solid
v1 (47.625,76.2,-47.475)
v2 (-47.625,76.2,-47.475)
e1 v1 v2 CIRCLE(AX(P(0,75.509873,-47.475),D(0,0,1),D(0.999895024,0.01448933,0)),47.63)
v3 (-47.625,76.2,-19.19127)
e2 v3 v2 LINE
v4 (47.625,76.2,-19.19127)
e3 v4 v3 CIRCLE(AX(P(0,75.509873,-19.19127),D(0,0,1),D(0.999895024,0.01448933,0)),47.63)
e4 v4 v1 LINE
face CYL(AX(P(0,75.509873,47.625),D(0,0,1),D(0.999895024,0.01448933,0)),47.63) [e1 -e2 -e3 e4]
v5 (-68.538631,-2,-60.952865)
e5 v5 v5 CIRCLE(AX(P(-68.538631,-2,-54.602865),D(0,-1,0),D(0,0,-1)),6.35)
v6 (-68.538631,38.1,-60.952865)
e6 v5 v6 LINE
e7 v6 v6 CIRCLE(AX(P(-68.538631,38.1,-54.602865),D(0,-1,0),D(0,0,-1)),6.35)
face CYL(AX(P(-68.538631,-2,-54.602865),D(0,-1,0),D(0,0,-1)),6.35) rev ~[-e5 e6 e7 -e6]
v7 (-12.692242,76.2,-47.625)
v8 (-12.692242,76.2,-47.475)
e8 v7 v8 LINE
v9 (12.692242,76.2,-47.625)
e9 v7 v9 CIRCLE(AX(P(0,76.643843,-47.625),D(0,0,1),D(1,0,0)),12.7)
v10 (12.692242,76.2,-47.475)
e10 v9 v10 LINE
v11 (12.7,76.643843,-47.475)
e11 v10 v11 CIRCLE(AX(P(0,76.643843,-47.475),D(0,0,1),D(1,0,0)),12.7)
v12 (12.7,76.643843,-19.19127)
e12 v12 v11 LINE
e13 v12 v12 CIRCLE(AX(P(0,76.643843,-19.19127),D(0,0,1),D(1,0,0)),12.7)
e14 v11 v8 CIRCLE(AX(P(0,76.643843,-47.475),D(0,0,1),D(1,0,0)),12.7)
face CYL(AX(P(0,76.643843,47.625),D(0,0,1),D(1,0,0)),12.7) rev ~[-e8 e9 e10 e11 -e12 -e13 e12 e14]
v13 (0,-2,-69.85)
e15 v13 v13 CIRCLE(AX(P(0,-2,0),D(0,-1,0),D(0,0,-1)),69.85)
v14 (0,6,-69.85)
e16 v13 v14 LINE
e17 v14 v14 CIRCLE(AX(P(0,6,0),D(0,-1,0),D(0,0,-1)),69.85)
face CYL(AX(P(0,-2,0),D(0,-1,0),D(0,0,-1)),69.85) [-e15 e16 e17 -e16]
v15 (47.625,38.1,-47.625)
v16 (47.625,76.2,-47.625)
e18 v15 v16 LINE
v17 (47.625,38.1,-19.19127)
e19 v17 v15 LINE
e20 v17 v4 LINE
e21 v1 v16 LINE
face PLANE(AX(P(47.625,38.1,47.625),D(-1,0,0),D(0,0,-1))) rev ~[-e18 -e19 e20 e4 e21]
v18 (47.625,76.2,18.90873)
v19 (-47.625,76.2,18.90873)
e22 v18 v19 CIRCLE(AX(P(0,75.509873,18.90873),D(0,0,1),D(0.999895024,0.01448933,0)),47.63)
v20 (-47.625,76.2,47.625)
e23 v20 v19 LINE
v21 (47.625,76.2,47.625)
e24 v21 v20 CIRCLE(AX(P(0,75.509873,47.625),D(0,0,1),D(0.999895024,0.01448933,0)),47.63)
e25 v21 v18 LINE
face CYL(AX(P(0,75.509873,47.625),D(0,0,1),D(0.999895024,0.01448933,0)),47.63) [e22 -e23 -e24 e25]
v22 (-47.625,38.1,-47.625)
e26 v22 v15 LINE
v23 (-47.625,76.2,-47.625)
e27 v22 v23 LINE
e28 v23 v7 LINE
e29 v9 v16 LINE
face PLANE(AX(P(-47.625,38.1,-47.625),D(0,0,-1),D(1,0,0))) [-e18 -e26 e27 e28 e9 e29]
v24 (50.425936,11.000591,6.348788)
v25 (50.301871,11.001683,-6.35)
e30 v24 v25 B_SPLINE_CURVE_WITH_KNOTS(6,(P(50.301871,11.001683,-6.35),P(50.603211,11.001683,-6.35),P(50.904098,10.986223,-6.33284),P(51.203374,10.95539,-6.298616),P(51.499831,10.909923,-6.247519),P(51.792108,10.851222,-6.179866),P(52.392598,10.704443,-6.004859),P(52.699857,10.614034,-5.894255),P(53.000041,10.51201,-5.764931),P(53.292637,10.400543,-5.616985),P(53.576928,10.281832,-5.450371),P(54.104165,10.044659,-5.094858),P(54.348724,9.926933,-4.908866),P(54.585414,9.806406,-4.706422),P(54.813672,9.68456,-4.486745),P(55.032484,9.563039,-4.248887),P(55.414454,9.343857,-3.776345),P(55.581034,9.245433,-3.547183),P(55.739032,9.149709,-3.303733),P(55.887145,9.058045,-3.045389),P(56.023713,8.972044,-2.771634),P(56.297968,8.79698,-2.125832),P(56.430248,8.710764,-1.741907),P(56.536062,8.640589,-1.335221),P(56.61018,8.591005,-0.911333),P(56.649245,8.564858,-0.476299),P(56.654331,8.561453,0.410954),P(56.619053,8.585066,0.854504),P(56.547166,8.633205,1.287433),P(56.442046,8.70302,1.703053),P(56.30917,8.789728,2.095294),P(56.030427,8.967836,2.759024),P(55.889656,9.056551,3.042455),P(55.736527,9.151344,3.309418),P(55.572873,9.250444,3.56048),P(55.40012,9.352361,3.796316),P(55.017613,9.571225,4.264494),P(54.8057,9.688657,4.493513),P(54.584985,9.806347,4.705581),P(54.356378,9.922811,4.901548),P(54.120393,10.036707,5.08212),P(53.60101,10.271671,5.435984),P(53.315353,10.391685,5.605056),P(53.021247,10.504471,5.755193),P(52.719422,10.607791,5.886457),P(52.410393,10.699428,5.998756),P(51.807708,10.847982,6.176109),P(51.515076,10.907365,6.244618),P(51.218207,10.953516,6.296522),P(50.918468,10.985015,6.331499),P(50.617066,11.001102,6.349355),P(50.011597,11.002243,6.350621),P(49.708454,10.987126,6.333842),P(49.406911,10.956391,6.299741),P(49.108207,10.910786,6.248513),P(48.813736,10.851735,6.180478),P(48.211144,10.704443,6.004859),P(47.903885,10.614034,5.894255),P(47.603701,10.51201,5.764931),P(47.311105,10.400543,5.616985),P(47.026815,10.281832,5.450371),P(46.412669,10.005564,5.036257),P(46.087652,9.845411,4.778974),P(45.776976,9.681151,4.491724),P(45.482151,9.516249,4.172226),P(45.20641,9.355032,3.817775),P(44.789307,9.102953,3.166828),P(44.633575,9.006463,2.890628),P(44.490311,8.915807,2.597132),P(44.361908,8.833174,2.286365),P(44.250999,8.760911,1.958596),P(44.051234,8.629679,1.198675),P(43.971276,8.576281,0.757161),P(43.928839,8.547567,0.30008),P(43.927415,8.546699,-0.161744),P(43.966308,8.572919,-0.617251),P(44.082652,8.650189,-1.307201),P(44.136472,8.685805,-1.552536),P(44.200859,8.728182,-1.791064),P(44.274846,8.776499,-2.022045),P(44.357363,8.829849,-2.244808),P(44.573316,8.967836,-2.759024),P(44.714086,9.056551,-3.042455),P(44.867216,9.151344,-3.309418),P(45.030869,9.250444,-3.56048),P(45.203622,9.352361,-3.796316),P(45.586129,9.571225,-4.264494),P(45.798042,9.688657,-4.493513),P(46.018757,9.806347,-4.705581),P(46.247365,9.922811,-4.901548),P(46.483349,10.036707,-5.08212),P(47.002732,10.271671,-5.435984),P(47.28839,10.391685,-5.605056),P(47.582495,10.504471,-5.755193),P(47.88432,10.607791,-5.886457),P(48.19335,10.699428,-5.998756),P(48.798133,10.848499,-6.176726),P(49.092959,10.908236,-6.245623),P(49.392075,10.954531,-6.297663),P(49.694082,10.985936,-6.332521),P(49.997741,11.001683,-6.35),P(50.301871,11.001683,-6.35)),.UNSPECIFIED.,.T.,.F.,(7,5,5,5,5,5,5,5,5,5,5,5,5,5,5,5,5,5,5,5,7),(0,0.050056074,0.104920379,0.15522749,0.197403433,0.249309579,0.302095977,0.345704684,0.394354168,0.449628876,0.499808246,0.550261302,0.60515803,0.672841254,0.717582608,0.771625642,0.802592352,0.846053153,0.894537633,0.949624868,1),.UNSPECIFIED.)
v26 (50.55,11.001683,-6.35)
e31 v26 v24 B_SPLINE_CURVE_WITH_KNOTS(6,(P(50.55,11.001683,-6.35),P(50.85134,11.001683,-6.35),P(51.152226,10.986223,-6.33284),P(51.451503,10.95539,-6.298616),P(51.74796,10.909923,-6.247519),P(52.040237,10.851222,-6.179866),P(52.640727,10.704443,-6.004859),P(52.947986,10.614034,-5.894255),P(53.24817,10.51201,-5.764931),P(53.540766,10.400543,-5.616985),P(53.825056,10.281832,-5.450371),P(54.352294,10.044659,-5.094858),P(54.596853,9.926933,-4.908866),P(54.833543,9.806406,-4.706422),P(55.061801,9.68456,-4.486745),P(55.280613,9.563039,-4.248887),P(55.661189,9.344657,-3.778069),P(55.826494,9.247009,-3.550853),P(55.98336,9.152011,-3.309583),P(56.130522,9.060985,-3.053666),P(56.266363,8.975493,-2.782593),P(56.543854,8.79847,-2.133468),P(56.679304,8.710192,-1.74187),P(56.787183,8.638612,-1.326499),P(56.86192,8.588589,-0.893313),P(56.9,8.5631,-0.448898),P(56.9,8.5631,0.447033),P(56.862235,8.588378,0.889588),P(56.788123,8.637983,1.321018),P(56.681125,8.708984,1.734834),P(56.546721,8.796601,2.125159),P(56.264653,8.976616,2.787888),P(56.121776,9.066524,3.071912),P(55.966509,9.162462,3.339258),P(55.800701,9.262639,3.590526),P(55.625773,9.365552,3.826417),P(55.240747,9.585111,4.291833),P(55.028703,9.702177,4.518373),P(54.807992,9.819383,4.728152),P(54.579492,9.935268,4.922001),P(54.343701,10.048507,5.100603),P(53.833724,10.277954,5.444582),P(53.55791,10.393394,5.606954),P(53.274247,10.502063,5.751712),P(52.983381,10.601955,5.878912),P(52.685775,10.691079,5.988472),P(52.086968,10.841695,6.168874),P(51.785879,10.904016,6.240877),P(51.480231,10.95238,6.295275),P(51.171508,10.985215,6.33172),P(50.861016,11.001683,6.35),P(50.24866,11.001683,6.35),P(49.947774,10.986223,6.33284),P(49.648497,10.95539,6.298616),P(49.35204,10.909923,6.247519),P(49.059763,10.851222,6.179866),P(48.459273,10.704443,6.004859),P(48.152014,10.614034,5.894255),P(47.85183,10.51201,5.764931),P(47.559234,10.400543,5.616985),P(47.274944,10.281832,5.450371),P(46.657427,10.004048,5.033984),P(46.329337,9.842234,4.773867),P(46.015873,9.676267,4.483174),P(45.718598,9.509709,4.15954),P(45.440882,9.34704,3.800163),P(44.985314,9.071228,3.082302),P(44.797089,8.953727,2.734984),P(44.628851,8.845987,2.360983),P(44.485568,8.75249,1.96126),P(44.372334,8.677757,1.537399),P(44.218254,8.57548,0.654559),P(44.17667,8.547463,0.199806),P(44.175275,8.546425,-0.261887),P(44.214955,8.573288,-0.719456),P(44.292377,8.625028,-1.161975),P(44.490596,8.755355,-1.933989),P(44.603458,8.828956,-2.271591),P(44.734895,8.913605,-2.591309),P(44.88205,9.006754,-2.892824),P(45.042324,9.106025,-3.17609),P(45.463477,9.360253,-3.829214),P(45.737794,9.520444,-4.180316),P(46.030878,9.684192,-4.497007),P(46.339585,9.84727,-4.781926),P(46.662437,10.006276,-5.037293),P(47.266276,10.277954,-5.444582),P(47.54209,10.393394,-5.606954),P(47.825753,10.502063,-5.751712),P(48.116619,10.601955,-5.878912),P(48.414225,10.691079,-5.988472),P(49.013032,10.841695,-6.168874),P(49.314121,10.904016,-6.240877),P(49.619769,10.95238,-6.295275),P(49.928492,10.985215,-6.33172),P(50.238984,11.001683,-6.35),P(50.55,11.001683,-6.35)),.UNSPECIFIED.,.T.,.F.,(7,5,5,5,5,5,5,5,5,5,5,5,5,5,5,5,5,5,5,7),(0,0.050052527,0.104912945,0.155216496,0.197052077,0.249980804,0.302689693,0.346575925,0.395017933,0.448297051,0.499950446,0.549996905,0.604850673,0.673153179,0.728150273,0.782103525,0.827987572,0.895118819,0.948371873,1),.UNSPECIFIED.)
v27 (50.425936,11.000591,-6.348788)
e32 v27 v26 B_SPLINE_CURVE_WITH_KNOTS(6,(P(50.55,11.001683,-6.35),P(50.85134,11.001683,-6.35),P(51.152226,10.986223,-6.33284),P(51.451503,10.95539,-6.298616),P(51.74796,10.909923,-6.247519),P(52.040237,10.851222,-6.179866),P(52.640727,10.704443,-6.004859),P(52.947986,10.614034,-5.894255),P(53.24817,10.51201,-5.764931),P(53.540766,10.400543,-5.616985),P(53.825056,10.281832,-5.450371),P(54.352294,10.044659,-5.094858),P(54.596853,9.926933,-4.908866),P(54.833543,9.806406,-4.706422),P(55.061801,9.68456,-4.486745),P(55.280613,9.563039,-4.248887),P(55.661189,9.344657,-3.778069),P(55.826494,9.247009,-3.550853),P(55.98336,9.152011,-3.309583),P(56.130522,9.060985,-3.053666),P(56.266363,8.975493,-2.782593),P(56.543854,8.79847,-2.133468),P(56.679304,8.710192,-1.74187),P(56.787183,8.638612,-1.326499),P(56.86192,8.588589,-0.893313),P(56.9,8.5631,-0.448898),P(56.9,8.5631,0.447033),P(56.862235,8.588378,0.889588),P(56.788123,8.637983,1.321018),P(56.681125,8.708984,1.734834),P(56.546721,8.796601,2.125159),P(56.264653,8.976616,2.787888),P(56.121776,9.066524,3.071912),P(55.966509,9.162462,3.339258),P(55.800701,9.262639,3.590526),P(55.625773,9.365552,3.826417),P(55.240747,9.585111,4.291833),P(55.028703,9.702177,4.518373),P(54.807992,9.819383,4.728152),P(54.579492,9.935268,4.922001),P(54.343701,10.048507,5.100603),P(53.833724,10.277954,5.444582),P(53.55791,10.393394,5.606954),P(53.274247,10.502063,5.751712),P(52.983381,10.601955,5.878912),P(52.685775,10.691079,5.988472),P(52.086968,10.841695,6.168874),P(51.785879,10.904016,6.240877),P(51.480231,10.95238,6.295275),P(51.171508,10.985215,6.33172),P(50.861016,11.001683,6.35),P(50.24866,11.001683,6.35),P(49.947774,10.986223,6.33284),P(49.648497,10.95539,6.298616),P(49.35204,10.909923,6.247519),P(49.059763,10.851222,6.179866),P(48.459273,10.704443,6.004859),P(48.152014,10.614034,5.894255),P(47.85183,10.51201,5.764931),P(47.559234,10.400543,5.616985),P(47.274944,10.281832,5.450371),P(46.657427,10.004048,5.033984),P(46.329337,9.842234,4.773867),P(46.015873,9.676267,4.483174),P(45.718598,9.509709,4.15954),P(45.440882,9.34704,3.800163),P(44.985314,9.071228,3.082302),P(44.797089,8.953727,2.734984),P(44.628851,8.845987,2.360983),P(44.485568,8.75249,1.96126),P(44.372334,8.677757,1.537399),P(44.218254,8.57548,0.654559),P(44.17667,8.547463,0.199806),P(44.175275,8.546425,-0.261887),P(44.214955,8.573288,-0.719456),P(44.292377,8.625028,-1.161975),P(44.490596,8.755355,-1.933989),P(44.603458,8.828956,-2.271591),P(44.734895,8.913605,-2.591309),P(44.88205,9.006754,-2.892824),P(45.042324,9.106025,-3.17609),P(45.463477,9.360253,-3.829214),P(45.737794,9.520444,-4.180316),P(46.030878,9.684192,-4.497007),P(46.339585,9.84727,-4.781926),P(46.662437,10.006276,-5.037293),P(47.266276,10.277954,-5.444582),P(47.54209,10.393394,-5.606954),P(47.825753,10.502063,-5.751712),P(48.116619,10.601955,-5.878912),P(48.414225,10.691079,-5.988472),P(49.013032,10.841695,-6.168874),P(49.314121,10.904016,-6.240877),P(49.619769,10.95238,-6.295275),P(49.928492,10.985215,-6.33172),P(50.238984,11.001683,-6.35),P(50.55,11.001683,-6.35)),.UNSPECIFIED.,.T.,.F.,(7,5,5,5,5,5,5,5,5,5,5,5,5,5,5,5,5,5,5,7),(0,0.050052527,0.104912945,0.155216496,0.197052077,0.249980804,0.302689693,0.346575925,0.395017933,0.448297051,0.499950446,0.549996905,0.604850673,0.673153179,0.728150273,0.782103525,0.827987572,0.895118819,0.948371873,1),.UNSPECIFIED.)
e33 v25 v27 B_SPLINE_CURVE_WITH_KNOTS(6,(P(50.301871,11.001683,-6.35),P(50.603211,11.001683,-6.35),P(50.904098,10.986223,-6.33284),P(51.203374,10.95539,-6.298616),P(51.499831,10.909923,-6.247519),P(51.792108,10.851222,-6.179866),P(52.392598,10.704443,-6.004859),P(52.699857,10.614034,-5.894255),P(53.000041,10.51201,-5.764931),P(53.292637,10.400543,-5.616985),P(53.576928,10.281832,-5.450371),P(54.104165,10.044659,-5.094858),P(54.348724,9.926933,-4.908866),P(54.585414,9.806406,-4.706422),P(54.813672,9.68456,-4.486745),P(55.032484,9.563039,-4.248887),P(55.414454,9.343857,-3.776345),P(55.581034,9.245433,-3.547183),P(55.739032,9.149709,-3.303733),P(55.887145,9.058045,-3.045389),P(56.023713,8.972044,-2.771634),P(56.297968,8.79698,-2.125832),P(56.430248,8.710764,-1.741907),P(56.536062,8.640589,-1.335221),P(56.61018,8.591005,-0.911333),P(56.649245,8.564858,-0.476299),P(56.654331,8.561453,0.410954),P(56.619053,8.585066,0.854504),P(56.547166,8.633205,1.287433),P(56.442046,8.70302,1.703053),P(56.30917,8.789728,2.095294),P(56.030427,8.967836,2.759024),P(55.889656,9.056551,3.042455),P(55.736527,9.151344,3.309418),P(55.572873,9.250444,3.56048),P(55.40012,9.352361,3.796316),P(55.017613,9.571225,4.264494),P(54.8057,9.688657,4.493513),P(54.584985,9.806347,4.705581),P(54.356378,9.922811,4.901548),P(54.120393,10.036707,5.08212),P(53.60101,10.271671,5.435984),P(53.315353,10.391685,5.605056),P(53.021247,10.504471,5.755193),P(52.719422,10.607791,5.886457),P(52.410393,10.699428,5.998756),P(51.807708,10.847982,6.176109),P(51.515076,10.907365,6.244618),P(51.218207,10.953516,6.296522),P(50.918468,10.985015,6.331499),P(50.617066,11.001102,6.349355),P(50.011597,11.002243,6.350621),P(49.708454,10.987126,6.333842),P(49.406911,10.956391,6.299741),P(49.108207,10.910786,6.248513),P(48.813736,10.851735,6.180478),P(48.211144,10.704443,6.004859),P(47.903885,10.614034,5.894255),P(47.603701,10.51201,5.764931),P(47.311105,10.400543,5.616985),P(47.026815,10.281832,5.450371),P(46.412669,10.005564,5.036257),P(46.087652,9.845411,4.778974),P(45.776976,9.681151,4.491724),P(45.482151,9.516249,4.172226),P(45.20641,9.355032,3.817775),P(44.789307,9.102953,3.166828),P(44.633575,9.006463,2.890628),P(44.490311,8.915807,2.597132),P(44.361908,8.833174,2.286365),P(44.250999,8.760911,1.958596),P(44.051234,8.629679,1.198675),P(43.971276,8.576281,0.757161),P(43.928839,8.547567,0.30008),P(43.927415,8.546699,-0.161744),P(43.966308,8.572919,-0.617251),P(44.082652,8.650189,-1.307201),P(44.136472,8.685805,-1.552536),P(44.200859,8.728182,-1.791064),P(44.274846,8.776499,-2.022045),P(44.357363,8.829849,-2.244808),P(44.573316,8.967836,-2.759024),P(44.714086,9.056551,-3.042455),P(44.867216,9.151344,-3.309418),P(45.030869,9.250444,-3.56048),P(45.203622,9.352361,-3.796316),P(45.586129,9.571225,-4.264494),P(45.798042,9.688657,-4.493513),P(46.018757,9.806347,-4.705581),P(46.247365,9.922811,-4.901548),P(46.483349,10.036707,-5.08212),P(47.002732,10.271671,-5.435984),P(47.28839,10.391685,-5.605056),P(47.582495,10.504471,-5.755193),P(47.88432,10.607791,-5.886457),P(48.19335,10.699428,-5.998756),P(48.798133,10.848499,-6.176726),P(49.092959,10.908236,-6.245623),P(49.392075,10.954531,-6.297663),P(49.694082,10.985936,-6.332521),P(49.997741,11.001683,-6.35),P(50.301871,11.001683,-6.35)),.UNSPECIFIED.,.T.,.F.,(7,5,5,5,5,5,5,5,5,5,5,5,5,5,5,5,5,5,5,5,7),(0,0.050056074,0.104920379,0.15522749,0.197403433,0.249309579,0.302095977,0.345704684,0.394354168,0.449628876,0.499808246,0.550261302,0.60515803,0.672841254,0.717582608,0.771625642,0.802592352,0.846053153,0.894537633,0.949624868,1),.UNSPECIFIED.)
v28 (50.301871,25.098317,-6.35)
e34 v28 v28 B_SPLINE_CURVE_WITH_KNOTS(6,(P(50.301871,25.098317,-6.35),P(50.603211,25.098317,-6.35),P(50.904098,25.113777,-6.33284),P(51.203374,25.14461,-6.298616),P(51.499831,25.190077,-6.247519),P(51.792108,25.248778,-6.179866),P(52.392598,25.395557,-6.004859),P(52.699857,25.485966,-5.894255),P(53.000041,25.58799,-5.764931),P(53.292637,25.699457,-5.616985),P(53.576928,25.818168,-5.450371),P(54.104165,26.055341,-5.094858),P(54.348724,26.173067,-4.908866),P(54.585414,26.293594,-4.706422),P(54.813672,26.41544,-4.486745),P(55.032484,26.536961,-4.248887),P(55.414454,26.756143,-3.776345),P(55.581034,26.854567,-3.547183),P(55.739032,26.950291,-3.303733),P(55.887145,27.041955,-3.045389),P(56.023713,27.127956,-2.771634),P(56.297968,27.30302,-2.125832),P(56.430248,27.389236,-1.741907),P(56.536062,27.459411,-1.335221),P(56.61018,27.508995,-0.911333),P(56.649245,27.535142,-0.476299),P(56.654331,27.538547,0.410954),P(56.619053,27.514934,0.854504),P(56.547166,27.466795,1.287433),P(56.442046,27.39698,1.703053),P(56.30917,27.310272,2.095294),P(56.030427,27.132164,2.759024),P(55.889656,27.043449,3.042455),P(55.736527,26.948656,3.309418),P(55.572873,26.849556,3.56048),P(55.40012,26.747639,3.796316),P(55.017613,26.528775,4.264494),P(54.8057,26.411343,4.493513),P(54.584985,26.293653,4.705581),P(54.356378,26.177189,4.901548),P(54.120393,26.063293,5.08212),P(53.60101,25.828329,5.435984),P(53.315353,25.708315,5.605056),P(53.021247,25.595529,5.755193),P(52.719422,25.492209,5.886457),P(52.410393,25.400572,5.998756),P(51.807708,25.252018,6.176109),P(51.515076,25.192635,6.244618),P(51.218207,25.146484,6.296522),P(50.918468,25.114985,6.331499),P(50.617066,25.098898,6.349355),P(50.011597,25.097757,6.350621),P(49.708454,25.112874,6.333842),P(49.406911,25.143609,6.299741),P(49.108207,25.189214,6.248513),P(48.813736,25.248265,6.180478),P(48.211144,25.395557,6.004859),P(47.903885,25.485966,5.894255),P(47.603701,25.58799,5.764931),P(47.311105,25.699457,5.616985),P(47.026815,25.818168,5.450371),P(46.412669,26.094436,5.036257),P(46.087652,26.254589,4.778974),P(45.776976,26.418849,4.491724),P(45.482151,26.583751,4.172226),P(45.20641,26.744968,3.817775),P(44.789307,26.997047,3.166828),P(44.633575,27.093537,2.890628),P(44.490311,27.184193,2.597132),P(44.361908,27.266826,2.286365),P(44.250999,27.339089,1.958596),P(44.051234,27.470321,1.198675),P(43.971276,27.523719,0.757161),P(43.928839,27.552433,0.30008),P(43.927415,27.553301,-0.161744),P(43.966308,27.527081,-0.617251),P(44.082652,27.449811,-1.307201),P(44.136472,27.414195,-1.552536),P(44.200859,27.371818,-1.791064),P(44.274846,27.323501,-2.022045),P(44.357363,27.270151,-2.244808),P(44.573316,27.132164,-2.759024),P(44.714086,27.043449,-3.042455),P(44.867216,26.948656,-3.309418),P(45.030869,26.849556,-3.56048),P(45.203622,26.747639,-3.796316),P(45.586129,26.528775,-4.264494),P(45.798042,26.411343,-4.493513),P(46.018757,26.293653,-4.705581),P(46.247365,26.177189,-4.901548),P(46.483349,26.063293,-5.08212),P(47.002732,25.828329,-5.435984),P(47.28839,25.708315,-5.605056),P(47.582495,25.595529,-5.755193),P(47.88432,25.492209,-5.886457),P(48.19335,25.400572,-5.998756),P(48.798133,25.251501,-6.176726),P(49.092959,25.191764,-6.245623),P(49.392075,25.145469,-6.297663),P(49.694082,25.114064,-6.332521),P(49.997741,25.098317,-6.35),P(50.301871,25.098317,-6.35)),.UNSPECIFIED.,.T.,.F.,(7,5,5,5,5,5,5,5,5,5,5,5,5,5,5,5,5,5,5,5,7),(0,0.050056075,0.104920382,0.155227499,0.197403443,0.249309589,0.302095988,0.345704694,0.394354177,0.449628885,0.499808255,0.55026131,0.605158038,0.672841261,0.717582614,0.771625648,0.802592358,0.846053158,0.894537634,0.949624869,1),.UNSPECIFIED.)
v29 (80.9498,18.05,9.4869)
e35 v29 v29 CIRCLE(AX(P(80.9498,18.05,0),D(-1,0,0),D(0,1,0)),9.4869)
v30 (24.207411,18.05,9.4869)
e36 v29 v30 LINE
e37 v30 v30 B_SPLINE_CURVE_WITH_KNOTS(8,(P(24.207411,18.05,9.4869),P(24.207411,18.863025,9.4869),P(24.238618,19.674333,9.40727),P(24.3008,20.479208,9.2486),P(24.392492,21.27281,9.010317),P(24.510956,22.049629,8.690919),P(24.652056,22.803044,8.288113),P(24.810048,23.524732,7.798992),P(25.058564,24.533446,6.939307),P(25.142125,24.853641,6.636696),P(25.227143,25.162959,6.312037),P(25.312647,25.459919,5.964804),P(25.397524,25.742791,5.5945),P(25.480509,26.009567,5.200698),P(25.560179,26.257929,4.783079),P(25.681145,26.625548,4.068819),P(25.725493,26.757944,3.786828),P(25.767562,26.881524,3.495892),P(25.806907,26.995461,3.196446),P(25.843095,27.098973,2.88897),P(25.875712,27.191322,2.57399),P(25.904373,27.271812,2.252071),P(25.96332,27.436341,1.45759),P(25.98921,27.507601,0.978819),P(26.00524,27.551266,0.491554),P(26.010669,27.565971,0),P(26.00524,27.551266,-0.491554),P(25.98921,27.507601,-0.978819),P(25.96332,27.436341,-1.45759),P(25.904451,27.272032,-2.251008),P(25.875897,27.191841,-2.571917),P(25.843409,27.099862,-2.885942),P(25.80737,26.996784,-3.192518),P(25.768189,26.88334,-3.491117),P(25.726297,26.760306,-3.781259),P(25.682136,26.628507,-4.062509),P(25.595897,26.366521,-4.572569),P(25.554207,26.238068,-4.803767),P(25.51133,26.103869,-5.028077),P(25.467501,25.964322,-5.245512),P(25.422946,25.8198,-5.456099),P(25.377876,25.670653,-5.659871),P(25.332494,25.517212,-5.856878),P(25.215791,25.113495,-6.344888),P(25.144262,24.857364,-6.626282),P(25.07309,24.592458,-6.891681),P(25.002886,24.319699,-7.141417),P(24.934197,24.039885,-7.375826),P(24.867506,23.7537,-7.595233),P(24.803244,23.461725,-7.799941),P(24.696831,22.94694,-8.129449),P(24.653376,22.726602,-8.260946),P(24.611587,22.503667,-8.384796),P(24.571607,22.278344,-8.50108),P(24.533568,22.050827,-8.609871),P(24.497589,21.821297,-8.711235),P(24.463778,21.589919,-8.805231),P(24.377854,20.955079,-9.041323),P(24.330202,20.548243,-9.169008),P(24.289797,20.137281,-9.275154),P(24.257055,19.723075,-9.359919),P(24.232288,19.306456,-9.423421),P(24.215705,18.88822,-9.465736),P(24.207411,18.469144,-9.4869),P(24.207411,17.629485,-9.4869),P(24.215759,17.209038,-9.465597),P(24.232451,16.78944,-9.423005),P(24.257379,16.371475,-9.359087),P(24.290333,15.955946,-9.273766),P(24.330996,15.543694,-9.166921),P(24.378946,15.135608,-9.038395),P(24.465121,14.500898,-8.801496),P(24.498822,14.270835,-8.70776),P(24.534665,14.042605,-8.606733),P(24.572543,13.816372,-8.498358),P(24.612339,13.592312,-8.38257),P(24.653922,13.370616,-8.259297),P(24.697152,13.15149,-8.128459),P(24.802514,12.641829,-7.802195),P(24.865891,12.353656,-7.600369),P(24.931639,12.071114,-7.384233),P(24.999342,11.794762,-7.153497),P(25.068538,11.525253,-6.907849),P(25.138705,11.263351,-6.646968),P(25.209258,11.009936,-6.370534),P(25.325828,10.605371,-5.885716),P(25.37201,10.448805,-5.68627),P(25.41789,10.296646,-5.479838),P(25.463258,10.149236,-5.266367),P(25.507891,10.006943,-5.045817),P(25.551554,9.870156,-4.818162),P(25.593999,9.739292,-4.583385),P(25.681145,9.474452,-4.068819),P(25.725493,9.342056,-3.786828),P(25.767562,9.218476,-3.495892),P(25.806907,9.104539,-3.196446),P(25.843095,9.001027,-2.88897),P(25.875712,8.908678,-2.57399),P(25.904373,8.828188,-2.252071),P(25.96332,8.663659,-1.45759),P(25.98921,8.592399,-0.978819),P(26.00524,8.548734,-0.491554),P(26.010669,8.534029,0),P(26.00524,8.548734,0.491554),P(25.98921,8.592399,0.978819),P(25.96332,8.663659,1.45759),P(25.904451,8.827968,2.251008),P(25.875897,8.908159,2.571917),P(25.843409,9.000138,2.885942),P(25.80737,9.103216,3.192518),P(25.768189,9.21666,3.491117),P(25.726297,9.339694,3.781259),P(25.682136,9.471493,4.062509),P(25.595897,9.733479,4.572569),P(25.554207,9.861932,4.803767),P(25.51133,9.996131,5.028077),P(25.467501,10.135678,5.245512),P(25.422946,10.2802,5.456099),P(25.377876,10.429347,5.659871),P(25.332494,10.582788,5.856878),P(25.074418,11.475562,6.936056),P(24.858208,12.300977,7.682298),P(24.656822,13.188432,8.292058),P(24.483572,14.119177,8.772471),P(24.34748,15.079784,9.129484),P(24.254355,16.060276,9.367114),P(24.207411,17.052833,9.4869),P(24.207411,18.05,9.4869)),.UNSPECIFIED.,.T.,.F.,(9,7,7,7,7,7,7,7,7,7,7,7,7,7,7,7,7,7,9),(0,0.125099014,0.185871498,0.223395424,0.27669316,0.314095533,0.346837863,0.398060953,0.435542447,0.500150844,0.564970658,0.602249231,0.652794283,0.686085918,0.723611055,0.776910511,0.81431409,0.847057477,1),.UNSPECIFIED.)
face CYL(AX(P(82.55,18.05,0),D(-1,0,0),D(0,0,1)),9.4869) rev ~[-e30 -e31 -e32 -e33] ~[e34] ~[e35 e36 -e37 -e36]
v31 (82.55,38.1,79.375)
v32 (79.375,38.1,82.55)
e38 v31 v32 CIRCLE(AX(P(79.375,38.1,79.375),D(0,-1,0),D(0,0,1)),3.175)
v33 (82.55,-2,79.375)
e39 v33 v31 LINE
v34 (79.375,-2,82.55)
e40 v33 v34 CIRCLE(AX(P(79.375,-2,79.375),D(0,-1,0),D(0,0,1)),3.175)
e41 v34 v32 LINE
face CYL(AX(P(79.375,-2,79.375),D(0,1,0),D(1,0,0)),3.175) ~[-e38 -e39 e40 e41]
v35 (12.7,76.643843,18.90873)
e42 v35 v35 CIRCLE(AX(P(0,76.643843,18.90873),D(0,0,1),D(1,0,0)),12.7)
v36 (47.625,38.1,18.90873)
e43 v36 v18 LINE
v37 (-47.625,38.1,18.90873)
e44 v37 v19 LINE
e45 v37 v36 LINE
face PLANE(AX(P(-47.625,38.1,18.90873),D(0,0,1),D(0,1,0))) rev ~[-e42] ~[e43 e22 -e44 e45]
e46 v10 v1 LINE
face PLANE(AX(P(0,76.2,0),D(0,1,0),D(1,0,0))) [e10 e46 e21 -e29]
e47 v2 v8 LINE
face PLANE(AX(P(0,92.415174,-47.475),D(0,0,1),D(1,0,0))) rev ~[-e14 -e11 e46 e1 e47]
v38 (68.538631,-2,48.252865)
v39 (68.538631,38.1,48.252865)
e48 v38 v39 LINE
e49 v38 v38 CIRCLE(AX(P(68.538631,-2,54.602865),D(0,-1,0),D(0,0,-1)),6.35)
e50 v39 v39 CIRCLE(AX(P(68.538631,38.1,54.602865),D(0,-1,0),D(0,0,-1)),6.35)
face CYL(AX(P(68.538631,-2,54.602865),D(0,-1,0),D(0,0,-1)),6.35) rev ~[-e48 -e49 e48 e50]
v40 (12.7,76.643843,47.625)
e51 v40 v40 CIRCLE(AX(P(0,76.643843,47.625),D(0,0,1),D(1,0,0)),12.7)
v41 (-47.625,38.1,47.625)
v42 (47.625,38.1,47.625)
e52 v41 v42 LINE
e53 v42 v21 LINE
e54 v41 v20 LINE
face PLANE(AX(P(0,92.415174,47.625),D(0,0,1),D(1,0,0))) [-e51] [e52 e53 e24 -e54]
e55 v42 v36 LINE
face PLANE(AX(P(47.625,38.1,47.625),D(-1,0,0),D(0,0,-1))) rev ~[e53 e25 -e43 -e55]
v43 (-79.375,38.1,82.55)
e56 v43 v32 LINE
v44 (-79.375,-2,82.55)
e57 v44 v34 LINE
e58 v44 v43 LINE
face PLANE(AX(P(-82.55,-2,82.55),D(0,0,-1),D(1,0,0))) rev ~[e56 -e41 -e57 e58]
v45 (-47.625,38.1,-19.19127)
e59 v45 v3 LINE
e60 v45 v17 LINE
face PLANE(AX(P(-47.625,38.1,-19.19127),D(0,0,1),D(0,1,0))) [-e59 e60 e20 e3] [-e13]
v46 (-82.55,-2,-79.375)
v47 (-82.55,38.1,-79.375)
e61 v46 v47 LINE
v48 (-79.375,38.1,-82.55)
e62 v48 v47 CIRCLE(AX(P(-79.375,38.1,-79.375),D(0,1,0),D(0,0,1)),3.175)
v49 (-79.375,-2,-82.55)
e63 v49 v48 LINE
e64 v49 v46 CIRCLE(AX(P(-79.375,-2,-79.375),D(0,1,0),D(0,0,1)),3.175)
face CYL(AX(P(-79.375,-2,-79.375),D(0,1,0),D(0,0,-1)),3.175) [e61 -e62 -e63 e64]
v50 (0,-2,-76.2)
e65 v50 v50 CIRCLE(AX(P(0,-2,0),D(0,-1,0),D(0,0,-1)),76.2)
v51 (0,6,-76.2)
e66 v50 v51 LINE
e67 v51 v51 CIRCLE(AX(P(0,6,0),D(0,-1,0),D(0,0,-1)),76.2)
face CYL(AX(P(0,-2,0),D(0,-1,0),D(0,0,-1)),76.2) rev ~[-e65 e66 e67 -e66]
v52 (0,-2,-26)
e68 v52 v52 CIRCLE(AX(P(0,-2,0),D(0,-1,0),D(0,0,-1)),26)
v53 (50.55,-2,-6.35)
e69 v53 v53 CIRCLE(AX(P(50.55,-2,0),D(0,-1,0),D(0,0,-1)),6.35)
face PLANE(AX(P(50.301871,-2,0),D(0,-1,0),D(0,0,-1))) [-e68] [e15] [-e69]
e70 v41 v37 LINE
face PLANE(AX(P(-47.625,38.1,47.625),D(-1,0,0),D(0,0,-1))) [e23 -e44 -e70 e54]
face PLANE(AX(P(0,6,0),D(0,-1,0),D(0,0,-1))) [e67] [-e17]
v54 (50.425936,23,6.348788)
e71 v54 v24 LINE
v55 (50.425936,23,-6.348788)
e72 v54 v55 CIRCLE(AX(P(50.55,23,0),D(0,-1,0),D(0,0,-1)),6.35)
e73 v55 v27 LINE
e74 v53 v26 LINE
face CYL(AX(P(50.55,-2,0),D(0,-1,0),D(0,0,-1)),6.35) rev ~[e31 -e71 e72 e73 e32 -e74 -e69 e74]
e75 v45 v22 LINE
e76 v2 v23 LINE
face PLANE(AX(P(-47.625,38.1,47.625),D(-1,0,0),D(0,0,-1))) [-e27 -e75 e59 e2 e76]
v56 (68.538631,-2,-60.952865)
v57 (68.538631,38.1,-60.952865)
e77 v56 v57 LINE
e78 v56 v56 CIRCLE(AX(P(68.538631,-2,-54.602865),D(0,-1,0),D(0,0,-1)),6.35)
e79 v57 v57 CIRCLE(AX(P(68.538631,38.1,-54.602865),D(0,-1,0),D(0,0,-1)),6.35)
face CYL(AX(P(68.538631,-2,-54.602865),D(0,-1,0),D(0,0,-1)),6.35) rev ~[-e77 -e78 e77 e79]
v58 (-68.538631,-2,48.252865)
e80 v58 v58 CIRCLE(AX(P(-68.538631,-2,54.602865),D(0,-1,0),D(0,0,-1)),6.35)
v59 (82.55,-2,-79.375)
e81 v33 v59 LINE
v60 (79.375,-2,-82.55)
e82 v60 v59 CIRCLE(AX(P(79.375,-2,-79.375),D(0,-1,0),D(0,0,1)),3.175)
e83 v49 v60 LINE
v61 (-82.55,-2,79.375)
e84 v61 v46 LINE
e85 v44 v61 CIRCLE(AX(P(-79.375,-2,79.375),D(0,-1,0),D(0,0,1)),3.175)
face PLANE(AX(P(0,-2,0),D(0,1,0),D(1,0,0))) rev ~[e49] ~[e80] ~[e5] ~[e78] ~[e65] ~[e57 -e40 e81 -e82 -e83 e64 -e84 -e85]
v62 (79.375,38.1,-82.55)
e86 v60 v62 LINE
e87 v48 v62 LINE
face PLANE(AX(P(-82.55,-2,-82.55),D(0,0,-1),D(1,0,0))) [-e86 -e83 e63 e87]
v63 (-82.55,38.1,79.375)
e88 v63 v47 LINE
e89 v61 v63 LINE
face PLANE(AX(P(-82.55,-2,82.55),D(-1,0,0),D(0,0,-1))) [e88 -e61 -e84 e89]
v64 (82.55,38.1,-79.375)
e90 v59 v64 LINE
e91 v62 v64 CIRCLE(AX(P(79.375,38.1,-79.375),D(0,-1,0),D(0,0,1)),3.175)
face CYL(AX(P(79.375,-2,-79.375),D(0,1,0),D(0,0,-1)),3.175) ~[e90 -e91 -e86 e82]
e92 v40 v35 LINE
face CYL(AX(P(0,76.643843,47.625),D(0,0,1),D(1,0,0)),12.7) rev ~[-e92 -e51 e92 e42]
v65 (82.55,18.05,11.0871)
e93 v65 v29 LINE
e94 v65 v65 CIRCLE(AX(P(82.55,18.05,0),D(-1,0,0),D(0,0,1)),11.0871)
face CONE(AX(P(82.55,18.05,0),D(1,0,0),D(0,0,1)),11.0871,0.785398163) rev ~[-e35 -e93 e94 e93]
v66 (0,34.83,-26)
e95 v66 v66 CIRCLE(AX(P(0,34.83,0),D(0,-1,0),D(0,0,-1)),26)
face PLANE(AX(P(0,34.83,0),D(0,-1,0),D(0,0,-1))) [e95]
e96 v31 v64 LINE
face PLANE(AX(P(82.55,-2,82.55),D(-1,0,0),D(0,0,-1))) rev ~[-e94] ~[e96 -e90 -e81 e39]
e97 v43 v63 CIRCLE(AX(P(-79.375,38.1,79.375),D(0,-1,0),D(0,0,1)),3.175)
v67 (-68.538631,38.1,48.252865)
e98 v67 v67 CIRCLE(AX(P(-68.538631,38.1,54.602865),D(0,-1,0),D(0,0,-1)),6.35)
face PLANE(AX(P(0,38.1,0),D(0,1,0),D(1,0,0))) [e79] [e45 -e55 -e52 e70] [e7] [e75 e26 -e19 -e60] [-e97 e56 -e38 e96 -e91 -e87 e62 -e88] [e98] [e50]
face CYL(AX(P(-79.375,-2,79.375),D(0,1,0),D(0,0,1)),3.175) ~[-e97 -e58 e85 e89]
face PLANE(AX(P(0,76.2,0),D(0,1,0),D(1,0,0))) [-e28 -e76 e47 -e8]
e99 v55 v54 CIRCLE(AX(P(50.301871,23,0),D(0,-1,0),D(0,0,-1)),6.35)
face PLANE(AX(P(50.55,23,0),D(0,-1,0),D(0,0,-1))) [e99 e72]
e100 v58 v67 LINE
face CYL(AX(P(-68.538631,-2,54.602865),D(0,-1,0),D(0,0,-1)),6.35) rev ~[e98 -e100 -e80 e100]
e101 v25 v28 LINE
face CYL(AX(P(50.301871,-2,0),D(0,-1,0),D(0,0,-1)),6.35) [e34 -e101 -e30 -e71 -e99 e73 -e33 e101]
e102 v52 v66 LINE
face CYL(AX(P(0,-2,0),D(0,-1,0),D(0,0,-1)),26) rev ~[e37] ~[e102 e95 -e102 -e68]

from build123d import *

# Parameters (mm, degrees)
BOSS_EXTRUDE1_DEPTH                    = 38.1
BOSS_EXTRUDE1_DEPTH_BACK               = 2
SKETCH1_W                              = 165.1
SKETCH1_H                              = 165.1
SKETCH2_W                              = 95.25
SKETCH2_H                              = 95.25
BOSS_EXTRUDE2_DEPTH                    = 38.1
BOSS_EXTRUDE5_DEPTH                    = 95.1
SKETCH5_R                              = 12.7
CUT_EXTRUDE1_DEPTH                     = 198.290297523
SKETCH6_W                              = 38.1
SKETCH6_H                              = 85.0398732
CUT_EXTRUDE2_DEPTH                     = 198.290297523
FILLET1_R                              = 3.175
SKETCH7_R                              = 26
CUT_EXTRUDE3_DEPTH                     = 36.83
SKETCH8_R                              = 76.2
SKETCH8_R_2                            = 69.85
CUT_EXTRUDE4_DEPTH                     = 8
F_1_2_14_NPSM_TAPPED_HOLE1_D           = 18.9738
F_1_2_14_NPSM_TAPPED_HOLE1_DEPTH       = 63.5
F_1_2_14_NPSM_TAPPED_HOLE1_CSINK_D     = 22.1742
F_1_2_14_NPSM_TAPPED_HOLE1_CSINK_ANGLE = 90
F_1_2_14_NPSM_TAPPED_HOLE1_TIP         = 5.700304607
SKETCH15_R                             = 6.35
BOSS_EXTRUDE6_DEPTH                    = 30
SKETCH16_R                             = 6.35
CUT_EXTRUDE5_DEPTH                     = 25
SKETCH17_R                             = 6.35
CUT_EXTRUDE6_DEPTH                     = 172.14027248


with BuildPart() as part:
    # Sketch1 → Boss-Extrude1 (new, two sides: drawn at the far end of the back side and taken through both)
    with BuildSketch(Plane(origin=(0, 0, 0), x_dir=(1, 0, 0), z_dir=(0, 1, 0)).offset(-BOSS_EXTRUDE1_DEPTH_BACK)):
        Rectangle(SKETCH1_W, SKETCH1_H)
    extrude(amount=BOSS_EXTRUDE1_DEPTH + BOSS_EXTRUDE1_DEPTH_BACK)

    # Sketch2 → Boss-Extrude2 (add)
    with BuildSketch(Plane(origin=(0, 38.1, 0), x_dir=(1, 0, 0), z_dir=(0, 1, 0))):
        Rectangle(SKETCH2_W, SKETCH2_H)
    extrude(amount=BOSS_EXTRUDE2_DEPTH)

    # Sketch4 → Boss-Extrude5 (add)
    with BuildSketch(Plane.XY.offset(47.625)):
        with BuildLine():
            Line((-47.625, 76.2), (47.625, 76.2))
            ThreePointArc((47.625, 76.2), (0, 123.1398732), (-47.625, 76.2))
        make_face()
    extrude(amount=-BOSS_EXTRUDE5_DEPTH)

    # Sketch5 → Cut-Extrude1 (cut, through all)
    with BuildSketch(Plane.XY.offset(47.625)):
        with Locations((0, 76.643842778)):
            Circle(SKETCH5_R)
    extrude(amount=-CUT_EXTRUDE1_DEPTH, mode=Mode.SUBTRACT)

    # Sketch6 → Cut-Extrude2 (cut, through all)
    with BuildSketch(Plane.ZY.offset(47.625)):
        with Locations((-0.1412698, 80.6199366)):
            Rectangle(SKETCH6_W, SKETCH6_H)
    extrude(amount=-CUT_EXTRUDE2_DEPTH, mode=Mode.SUBTRACT)

    # Fillet1
    fillet1_edges = [part.edges().sort_by_distance(p)[0] for p in [
        (82.55, 18.05, 82.55),
        (-82.55, 18.05, 82.55),
        (-82.55, 18.05, -82.55),
        (82.55, 18.05, -82.55),
    ]]
    fillet(fillet1_edges, radius=FILLET1_R)

    # Sketch7 → Cut-Extrude3 (cut)
    with BuildSketch(Plane.XZ.offset(2)):
        with Locations(Location((0, 0, 0), (0, 0, 270))):
            Circle(SKETCH7_R)
    extrude(amount=-CUT_EXTRUDE3_DEPTH, mode=Mode.SUBTRACT)

    # Sketch8 → Cut-Extrude4 (cut)
    with BuildSketch(Plane.XZ.offset(2)):
        with Locations(Location((0, 0, 0), (0, 0, 270))):
            Circle(SKETCH8_R)
        with Locations(Location((0, 0, 0), (0, 0, 270))):
            Circle(SKETCH8_R_2, mode=Mode.SUBTRACT)
    extrude(amount=-CUT_EXTRUDE4_DEPTH, mode=Mode.SUBTRACT)

    # 1/2-14 NPSM Tapped Hole1
    with Locations(Plane(origin=(82.55, 0, 0), x_dir=(0, 0, -1), z_dir=(1, 0, 0))):
        with Locations((0, 18.05)):
            CounterSinkHole(F_1_2_14_NPSM_TAPPED_HOLE1_D / 2, F_1_2_14_NPSM_TAPPED_HOLE1_CSINK_D / 2, depth=F_1_2_14_NPSM_TAPPED_HOLE1_DEPTH, counter_sink_angle=F_1_2_14_NPSM_TAPPED_HOLE1_CSINK_ANGLE)
            with Locations((0, 0, -(F_1_2_14_NPSM_TAPPED_HOLE1_DEPTH + F_1_2_14_NPSM_TAPPED_HOLE1_TIP / 2))):  # 118° drill point
                Cone(0, F_1_2_14_NPSM_TAPPED_HOLE1_D / 2, F_1_2_14_NPSM_TAPPED_HOLE1_TIP, mode=Mode.SUBTRACT)

    # Sketch15 → Boss-Extrude6 (add)
    with BuildSketch(Plane.XZ.offset(2)):
        with Locations(Location((50.301871098, 0, 0), (0, 0, 270))):
            Circle(SKETCH15_R)
    extrude(amount=-BOSS_EXTRUDE6_DEPTH)

    # Sketch16 → Cut-Extrude5 (cut)
    with BuildSketch(Plane.XZ.offset(2)):
        with Locations(Location((50.55, 0, 0), (0, 0, 270))):
            Circle(SKETCH16_R)
    extrude(amount=-CUT_EXTRUDE5_DEPTH, mode=Mode.SUBTRACT)

    # Sketch17 → Cut-Extrude6 (cut, through all)
    with BuildSketch(Plane.XZ.offset(2)):
        with Locations(Location((-68.538631425, 54.602865331, 0), (0, 0, 270))):
            Circle(SKETCH17_R)
        with Locations(Location((68.538631425, 54.602865331, 0), (0, 0, 270))):
            Circle(SKETCH17_R)
        with Locations(Location((-68.538631425, -54.602865331, 0), (0, 0, 270))):
            Circle(SKETCH17_R)
        with Locations(Location((68.538631425, -54.602865331, 0), (0, 0, 270))):
            Circle(SKETCH17_R)
    extrude(amount=-CUT_EXTRUDE6_DEPTH, mode=Mode.SUBTRACT)


solid = part.part
